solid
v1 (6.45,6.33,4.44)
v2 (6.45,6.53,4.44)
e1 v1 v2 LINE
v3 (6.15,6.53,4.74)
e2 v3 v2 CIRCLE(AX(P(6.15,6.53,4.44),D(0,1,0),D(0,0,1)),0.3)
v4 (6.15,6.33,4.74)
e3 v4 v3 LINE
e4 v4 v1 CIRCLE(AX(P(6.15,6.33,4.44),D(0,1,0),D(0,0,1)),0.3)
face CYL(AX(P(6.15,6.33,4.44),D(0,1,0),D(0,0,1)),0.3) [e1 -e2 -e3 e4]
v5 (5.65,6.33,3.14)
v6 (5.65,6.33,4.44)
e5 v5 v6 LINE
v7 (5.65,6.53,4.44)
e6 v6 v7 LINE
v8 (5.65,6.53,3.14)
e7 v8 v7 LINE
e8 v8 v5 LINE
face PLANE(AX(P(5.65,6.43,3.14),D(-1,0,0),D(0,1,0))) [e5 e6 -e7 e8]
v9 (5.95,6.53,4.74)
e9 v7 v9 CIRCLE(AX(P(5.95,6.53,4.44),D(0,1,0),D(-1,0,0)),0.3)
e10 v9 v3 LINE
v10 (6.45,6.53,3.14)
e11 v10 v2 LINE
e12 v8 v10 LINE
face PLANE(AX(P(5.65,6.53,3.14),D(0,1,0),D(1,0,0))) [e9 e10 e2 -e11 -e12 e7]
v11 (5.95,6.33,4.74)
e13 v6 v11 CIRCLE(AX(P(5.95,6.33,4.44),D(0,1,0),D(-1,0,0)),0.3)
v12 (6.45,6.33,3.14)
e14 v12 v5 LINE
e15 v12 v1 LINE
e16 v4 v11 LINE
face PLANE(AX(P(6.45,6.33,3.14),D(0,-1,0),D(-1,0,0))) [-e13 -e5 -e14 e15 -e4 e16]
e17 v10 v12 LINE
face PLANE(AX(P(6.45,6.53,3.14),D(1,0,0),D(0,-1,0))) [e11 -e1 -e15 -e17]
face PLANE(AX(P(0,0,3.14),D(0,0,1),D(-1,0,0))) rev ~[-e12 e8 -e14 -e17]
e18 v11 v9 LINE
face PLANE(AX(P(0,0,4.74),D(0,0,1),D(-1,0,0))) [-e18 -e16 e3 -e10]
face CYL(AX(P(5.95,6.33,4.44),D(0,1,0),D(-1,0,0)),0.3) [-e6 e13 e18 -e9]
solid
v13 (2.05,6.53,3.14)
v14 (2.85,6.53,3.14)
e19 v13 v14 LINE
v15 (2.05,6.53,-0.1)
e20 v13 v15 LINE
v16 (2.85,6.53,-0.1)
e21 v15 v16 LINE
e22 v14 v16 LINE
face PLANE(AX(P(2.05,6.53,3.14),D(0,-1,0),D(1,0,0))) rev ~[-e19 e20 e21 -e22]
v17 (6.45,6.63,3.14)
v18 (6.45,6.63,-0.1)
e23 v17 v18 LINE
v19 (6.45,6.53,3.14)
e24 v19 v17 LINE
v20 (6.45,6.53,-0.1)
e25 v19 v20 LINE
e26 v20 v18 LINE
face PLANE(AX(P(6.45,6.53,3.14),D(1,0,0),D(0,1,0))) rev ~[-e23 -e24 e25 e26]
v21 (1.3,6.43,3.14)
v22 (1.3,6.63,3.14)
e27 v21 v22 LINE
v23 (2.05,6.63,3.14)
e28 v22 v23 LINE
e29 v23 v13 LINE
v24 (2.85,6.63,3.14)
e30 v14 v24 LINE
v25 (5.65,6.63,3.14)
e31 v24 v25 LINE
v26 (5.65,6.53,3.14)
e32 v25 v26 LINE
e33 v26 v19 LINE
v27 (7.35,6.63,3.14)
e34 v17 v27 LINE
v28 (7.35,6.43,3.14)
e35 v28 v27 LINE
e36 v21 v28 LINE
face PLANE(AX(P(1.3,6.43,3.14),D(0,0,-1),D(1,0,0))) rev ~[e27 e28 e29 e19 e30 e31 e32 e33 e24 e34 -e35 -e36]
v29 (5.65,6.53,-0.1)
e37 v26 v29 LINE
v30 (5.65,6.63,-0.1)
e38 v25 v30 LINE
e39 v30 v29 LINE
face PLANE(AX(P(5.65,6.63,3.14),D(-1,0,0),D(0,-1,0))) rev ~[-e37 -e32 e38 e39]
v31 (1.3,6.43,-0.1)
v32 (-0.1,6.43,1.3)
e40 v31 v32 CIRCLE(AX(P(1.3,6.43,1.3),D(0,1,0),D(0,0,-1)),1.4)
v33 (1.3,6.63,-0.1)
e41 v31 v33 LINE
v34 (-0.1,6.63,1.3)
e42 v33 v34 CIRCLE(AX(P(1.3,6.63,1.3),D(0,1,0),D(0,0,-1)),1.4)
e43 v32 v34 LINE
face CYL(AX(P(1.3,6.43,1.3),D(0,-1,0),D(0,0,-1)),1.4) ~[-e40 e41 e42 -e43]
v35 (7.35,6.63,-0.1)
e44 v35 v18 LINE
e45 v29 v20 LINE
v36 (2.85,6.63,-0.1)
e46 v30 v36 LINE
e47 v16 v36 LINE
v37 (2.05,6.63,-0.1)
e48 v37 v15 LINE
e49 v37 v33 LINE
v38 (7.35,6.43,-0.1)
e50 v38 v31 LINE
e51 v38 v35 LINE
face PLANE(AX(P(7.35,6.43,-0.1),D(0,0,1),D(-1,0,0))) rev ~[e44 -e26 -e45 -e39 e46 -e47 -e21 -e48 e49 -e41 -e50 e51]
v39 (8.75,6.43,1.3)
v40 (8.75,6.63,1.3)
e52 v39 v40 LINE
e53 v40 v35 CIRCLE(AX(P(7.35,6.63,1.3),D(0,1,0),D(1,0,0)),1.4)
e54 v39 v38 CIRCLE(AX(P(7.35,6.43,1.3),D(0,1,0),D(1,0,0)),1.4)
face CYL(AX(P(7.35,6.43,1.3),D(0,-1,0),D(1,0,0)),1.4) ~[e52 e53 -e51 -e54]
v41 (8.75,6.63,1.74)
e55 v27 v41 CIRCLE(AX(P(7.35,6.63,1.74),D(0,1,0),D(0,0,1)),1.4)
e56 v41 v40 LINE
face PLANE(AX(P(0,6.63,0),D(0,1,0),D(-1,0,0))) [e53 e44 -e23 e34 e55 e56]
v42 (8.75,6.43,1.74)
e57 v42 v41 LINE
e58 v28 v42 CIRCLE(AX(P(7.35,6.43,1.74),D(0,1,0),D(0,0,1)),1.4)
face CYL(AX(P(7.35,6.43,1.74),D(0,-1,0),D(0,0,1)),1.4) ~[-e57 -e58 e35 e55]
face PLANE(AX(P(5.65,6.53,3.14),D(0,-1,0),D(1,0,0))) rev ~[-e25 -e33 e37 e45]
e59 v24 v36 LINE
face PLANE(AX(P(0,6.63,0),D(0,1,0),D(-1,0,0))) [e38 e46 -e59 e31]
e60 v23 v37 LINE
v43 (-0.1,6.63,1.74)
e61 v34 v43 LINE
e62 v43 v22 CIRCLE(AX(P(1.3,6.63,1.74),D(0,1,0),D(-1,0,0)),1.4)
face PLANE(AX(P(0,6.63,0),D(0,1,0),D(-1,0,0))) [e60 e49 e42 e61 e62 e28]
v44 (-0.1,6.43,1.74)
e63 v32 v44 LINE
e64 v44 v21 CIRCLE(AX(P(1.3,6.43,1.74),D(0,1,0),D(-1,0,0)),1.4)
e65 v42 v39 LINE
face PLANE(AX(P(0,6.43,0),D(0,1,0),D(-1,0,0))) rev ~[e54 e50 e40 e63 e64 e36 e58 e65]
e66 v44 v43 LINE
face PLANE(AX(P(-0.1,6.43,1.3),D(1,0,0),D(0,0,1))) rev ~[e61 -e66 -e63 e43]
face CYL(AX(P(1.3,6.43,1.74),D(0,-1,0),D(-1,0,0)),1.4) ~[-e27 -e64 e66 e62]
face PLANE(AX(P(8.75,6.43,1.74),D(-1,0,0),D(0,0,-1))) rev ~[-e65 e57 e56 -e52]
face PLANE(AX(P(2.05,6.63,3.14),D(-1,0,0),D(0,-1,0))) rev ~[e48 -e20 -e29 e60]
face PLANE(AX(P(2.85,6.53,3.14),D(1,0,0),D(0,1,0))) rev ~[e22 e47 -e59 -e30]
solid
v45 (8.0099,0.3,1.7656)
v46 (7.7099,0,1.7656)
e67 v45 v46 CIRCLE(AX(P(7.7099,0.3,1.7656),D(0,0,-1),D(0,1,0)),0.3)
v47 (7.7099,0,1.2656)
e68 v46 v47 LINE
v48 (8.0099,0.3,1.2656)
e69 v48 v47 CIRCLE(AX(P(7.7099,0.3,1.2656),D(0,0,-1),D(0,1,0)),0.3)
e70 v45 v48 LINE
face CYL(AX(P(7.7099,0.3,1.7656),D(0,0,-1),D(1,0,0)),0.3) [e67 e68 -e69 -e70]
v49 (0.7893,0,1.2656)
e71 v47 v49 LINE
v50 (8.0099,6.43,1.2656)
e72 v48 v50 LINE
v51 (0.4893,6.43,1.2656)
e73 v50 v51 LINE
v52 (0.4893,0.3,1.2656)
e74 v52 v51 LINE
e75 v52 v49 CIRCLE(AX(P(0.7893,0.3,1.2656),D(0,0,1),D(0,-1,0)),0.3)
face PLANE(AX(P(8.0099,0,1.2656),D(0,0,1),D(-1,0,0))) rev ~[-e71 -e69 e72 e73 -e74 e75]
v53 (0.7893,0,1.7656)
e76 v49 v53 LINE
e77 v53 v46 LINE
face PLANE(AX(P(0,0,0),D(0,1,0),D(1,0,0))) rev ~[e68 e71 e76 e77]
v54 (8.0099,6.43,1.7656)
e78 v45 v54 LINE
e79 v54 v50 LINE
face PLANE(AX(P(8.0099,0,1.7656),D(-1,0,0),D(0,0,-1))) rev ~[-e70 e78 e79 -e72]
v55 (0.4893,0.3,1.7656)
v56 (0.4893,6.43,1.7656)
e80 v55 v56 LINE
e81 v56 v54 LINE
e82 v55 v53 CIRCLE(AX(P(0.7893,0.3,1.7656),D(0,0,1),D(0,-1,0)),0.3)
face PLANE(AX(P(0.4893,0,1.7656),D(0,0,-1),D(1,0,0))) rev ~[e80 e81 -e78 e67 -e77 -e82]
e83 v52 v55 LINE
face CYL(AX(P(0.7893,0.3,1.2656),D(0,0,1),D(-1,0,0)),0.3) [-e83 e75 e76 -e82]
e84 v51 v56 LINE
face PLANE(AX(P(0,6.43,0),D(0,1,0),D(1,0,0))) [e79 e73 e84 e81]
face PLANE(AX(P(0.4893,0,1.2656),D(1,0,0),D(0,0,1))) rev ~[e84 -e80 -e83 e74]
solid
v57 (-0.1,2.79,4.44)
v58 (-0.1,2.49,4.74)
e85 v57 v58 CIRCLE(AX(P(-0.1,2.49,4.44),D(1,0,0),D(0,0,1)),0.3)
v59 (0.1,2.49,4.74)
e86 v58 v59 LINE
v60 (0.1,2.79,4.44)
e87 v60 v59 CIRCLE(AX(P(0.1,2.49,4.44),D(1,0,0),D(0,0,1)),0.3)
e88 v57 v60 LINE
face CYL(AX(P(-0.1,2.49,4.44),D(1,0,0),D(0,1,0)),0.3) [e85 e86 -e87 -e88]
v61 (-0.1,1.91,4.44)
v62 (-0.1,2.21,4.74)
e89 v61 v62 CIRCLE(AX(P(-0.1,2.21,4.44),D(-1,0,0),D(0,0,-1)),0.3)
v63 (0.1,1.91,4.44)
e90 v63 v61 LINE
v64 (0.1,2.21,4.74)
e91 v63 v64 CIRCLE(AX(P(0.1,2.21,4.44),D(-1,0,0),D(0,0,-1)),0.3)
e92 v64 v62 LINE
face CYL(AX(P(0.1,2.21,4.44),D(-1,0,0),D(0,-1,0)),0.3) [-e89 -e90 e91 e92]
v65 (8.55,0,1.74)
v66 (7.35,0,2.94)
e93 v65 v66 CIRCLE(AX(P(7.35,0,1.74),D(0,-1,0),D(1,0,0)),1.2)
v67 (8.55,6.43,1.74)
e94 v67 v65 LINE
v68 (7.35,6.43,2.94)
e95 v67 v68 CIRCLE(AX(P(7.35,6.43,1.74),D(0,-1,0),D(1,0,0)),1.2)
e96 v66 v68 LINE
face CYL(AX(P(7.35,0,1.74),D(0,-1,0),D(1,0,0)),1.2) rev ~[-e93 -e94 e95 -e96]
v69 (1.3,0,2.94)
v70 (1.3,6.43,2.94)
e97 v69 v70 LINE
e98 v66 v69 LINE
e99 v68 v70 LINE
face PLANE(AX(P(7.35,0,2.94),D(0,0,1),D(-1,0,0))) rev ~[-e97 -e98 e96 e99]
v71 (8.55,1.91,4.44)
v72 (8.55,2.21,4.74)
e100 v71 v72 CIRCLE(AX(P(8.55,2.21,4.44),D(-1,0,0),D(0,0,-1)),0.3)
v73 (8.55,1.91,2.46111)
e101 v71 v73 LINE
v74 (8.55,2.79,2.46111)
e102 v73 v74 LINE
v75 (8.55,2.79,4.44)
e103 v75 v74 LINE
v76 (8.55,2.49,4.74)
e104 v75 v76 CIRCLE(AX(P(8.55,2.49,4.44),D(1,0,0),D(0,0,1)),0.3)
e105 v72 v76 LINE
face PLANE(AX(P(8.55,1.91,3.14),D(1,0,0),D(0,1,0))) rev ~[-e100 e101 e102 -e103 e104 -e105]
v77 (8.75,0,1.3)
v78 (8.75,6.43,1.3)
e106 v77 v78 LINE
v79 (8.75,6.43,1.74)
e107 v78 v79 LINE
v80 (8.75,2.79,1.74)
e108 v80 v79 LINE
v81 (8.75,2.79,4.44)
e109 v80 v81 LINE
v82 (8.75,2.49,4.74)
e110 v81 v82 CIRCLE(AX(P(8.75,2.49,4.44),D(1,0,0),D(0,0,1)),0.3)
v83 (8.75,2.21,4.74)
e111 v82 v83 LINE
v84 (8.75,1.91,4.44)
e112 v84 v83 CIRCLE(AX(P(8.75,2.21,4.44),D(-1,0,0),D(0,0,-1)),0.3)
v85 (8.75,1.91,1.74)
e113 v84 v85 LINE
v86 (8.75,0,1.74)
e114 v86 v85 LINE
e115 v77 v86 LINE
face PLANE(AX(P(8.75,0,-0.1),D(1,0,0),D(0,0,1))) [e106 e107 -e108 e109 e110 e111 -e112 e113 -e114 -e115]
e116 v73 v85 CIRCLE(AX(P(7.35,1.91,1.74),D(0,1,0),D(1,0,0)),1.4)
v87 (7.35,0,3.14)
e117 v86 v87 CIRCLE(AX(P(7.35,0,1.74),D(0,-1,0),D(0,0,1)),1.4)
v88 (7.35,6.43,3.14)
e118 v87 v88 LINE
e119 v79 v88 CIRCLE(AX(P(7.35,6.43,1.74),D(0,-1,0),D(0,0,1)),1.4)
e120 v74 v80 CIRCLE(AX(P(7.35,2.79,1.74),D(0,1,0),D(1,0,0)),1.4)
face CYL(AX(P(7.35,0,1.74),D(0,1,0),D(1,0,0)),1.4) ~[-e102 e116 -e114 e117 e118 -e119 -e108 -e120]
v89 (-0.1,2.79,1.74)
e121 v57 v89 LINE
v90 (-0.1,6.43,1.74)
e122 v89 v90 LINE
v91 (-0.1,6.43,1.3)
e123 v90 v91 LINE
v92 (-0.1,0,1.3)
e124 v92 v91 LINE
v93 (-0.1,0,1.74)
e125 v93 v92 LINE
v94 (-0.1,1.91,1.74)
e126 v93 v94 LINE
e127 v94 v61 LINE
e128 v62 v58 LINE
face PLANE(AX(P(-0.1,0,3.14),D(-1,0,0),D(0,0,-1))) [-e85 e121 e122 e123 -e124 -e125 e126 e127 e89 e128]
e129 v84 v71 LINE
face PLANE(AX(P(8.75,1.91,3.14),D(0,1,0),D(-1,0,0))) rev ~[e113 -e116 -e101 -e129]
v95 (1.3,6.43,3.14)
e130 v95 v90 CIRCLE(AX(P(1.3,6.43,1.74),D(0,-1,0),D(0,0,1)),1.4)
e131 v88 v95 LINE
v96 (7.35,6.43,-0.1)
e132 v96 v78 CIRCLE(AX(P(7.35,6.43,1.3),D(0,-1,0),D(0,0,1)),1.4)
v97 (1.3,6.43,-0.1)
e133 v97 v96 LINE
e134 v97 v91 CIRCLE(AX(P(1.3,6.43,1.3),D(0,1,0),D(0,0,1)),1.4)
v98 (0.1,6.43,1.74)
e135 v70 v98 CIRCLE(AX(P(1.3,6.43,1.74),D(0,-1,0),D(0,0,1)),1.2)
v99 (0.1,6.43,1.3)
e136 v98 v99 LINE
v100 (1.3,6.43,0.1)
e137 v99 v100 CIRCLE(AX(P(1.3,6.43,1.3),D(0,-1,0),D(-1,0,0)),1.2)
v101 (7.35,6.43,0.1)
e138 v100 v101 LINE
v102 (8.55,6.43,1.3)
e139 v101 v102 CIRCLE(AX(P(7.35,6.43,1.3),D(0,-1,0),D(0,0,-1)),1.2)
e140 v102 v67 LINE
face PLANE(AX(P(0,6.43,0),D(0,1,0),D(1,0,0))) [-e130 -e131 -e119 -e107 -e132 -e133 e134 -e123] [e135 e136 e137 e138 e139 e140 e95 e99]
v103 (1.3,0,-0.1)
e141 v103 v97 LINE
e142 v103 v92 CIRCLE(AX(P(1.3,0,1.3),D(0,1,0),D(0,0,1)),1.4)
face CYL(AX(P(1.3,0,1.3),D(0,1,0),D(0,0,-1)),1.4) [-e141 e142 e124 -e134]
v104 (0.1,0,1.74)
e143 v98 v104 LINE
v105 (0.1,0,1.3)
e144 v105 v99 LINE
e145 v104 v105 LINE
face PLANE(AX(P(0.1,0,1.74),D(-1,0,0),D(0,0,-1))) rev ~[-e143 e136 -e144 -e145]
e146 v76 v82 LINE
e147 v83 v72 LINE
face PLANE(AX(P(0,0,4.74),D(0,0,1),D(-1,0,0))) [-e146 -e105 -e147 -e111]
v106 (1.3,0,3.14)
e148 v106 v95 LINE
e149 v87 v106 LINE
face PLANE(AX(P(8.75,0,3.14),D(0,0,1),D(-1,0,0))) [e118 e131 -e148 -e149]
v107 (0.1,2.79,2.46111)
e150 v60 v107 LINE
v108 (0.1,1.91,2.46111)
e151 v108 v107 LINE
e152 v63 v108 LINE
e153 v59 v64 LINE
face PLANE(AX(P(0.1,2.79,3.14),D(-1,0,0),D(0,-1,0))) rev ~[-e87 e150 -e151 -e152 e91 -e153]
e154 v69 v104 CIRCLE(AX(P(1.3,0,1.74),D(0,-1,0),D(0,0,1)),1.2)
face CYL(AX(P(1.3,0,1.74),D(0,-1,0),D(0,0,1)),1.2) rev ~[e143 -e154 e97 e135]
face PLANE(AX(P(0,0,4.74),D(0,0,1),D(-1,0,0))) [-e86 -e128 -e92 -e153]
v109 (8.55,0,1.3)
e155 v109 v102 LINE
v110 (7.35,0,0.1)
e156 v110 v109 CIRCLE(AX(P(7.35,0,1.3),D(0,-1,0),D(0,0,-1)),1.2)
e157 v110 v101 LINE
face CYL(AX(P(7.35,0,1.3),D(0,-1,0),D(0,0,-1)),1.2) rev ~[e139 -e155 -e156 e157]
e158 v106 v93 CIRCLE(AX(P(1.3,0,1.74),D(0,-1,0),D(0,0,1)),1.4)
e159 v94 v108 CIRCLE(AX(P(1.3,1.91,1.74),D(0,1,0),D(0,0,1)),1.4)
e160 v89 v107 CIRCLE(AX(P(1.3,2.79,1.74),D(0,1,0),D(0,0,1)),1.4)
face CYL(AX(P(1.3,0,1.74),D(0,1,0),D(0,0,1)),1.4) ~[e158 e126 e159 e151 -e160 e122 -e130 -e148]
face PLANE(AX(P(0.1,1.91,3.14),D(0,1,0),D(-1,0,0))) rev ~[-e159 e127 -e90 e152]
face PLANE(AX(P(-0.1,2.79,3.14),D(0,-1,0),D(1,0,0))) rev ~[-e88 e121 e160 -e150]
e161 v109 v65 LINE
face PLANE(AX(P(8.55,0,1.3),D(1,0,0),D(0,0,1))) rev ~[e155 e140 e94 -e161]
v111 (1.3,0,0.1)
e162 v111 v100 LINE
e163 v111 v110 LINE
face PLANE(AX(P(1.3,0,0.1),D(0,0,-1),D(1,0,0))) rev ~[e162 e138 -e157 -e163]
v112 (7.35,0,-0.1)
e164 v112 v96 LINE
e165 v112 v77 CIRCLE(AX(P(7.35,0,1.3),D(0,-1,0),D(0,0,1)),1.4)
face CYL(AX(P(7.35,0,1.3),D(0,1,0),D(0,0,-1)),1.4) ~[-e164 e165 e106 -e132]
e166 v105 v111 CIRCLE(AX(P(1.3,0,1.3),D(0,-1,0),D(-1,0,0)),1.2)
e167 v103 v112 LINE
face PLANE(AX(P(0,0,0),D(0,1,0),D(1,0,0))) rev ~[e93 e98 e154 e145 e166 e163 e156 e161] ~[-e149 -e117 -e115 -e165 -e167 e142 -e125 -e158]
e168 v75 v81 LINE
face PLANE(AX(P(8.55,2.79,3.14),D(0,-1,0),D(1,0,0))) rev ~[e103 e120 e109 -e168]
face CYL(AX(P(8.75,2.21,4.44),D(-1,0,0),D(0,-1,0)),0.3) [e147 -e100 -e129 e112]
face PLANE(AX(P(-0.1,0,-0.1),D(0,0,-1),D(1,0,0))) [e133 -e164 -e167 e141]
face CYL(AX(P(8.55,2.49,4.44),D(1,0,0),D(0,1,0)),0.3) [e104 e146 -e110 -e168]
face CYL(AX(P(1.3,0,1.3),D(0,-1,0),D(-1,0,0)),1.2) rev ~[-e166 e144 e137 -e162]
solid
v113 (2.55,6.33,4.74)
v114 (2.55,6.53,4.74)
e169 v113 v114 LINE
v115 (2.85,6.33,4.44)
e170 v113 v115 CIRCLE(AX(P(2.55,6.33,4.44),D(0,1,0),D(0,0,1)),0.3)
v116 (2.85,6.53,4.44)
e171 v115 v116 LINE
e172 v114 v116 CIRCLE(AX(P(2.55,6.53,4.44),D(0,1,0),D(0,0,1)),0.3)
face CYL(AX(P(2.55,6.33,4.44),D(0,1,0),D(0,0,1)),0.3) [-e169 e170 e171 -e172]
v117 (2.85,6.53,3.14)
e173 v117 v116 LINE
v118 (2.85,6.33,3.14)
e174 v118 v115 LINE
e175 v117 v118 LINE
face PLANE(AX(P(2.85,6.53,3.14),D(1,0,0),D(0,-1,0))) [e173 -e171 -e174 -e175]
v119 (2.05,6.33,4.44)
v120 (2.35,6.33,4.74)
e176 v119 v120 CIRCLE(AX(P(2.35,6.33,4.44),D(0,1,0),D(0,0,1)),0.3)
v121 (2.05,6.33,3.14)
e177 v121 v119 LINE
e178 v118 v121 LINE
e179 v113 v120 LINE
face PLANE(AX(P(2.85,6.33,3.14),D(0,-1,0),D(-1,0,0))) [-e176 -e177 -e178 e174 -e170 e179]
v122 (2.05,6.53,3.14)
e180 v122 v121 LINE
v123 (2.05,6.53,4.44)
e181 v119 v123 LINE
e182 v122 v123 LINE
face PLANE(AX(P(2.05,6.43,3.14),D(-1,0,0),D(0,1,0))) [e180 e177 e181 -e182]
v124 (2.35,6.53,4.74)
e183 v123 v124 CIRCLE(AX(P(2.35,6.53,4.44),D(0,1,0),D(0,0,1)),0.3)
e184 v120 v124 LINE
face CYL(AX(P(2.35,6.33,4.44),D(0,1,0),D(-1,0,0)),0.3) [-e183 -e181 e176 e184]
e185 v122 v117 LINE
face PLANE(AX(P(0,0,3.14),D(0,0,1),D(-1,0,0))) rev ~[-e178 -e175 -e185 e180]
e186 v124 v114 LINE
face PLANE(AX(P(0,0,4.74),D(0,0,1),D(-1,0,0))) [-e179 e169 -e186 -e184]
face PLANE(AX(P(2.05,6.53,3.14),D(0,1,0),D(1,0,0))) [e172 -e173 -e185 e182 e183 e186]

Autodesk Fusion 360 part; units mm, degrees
sketch "Sketch1" plane through (0, 0, 0) normal (0, 1, 0) x (1, 0, 0)
  line L0 (0.1, -0.1) -> (8.55, -0.1) construction
  line L1 (8.55, -0.1) -> (8.55, -2.94) construction
  line L2 (8.55, -2.94) -> (0.1, -2.94) construction
  line L3 (0.1, -2.94) -> (0.1, -0.1) construction
  line L4 (-0.1, 0.1) -> (8.75, 0.1)
  line L5 (8.75, 0.1) -> (8.75, -3.14)
  line L6 (8.75, -3.14) -> (-0.1, -3.14)
  line L7 (-0.1, -3.14) -> (-0.1, 0.1)
  line L8 (0, 0) -> (8.65, 0) construction
  line L9 (8.65, 0) -> (8.65, -3.04) construction
  line L10 (8.65, -3.04) -> (0, -3.04) construction
  line L11 (0, -3.04) -> (0, 0) construction
  dimension "d4" = -0.2
  dimension "d5" = -0.1
extrude "Extrude1" add sketch "Sketch1" along normal blind 6.43 makes body 1
fillet "Fillet1" radius 1.4 4 edges at (8.75, 3.215, 3.14) (8.75, 3.215, -0.1) (-0.1, 3.215, 3.14) (-0.1, 3.215, -0.1) on bodies 1
sketch "Sketch2" plane through (0, 0, 0) normal (0, -1, 0) x (1, 0, 0)
  arc A0 (-0.1, 1.3) -> (1.3, -0.1) centre (1.3, 1.3) ccw
  line L0 (1.3, -0.1) -> (7.35, -0.1)
  arc A1 (7.35, -0.1) -> (8.75, 1.3) centre (7.35, 1.3) ccw
  line L1 (8.75, 1.3) -> (8.75, 1.74)
  arc A2 (8.75, 1.74) -> (7.35, 3.14) centre (7.35, 1.74) ccw
  line L2 (7.35, 3.14) -> (1.3, 3.14)
  arc A3 (1.3, 3.14) -> (-0.1, 1.74) centre (1.3, 1.74) ccw
  line L3 (-0.1, 1.74) -> (-0.1, 1.3)
  line L4 (0.1, 1.74) -> (0.1, 1.3)
  arc A4 (0.1, 1.3) -> (1.3, 0.1) centre (1.3, 1.3) ccw
  line L5 (1.3, 0.1) -> (7.35, 0.1)
  arc A5 (7.35, 0.1) -> (8.55, 1.3) centre (7.35, 1.3) ccw
  line L6 (8.55, 1.3) -> (8.55, 1.74)
  arc A6 (8.55, 1.74) -> (7.35, 2.94) centre (7.35, 1.74) ccw
  line L7 (7.35, 2.94) -> (1.3, 2.94)
  arc A7 (1.3, 2.94) -> (0.1, 1.74) centre (1.3, 1.74) ccw
  dimension "d10" = -0.2
extrude "Extrude2" cut sketch "Sketch2" against normal blind 6.43 contours L4 A4 L5 A5 L6 A6 L7 A7 bodies 1
sketch "Sketch3" plane through (0, 6.43, 0) normal (0, 1, 0) x (-1, 0, 0)
  line L0 (-0.1, 1.74) -> (-0.1, 1.3)
  arc A0 (-1.3, 0.1) -> (-0.1, 1.3) centre (-1.3, 1.3) ccw
  line L1 (-1.3, 0.1) -> (-7.35, 0.1)
  arc A1 (-8.55, 1.3) -> (-7.35, 0.1) centre (-7.35, 1.3) ccw
  line L2 (-8.55, 1.3) -> (-8.55, 1.74)
  arc A2 (-7.35, 2.94) -> (-8.55, 1.74) centre (-7.35, 1.74) ccw
  line L3 (-7.35, 2.94) -> (-1.3, 2.94)
  arc A3 (-0.1, 1.74) -> (-1.3, 2.94) centre (-1.3, 1.74) ccw
  arc A4 (-1.3, -0.1) -> (0.1, 1.3) centre (-1.3, 1.3) ccw
  line L4 (0.1, 1.3) -> (0.1, 1.74)
  arc A5 (0.1, 1.74) -> (-1.3, 3.14) centre (-1.3, 1.74) ccw
  line L5 (-1.3, 3.14) -> (-7.35, 3.14)
  arc A6 (-7.35, 3.14) -> (-8.75, 1.74) centre (-7.35, 1.74) ccw
  line L6 (-8.75, 1.74) -> (-8.75, 1.3)
  arc A7 (-8.75, 1.3) -> (-7.35, -0.1) centre (-7.35, 1.3) ccw
  line L7 (-7.35, -0.1) -> (-1.3, -0.1)
  line L8 (-7.35, 3.14) -> (-1.3, 3.14)
  line L9 (0.1, 1.74) -> (0.1, 1.3)
  line L10 (-1.3, -0.1) -> (-7.35, -0.1)
  line L11 (-8.75, 1.3) -> (-8.75, 1.74)
  spline S0 degree 5 poles (-7.35, -0.1) (-7.4476, -0.1) (-7.6354, -0.0851) (-7.8944, -0.0183) (-8.1972, 0.1488) (-8.5012, 0.4528) (-8.6683, 0.7556) (-8.7351, 1.0146) (-8.75, 1.2024) (-8.75, 1.3) knots 0 0 0 0 0 0 0.2 0.4 0.6 0.8 1 1 1 1 1 1
  spline S1 degree 5 poles (-8.75, 1.74) (-8.75, 1.8376) (-8.7351, 2.0254) (-8.6683, 2.2844) (-8.5012, 2.5872) (-8.1972, 2.8912) (-7.8944, 3.0583) (-7.6354, 3.1251) (-7.4476, 3.14) (-7.35, 3.14) knots 0 0 0 0 0 0 0.2 0.4 0.6 0.8 1 1 1 1 1 1
  spline S2 degree 5 poles (-1.3, -0.1) (-1.2024, -0.1) (-1.0146, -0.0851) (-0.7556, -0.0183) (-0.4528, 0.1488) (-0.1488, 0.4528) (0.0183, 0.7556) (0.0851, 1.0146) (0.1, 1.2024) (0.1, 1.3) knots 0 0 0 0 0 0 0.2 0.4 0.6 0.8 1 1 1 1 1 1
  spline S3 degree 5 poles (0.1, 1.74) (0.1, 1.8376) (0.0851, 2.0254) (0.0183, 2.2844) (-0.1488, 2.5872) (-0.4528, 2.8912) (-0.7556, 3.0583) (-1.0146, 3.1251) (-1.2024, 3.14) (-1.3, 3.14) knots 0 0 0 0 0 0 0.2 0.4 0.6 0.8 1 1 1 1 1 1
extrude "Extrude3" add sketch "Sketch3" along normal blind 0.2 separate body contours L0 A0 L1 A1 L2 A2 L3 A3 | A4 L4 A5 L5 A6 L6 A7 L7 L8 L9 L10 L11 S0 S1 S2 S3 makes body 2
sketch "Sketch4" plane through (0, 0, 0) normal (0, 1, 0) x (1, 0, 0)
  line L0 (8.6991, -3.1025) -> (0, 0) construction
  line L1 (-0.1103, -3.1118) -> (8.7397, 0.1282) construction
  line L2 (4.2496, -1.5156) -> (4.3035, 0.7511) construction
  line L3 (8.0099, -1.2656) -> (0.4893, -1.2656)
  line L4 (0.4893, -1.2656) -> (0.4893, -1.7656)
  line L5 (0.4893, -1.7656) -> (8.0099, -1.7656)
  line L6 (8.0099, -1.7656) -> (8.0099, -1.2656)
  line L7 (8.0099, -1.2656) -> (0.4893, -1.7656) construction
  line L8 (0.4893, -1.2656) -> (8.0099, -1.7656) construction
  point P0 (4.2496, -1.5156)
  dimension "d15" = 0.5
extrude "Extrude4" add sketch "Sketch4" along normal blind 6.43 separate body makes body 3
fillet "Fillet2" radius 0.3 2 edges at (8.0099, 0, 1.5156) (0.4893, 0, 1.5156) on bodies 3
sketch "Sketch5" plane through (0, 0, 3.14) normal (0, 0, 1) x (-1, 0, 0)
  line L0 (-1.3, -6.43) -> (-1.3, 0)
  line L1 (-1.3, 0) -> (-7.35, 0)
  line L2 (-7.35, 0) -> (-7.35, -6.43)
  line L3 (-7.35, -6.43) -> (-1.3, -6.43)
  line L4 (-4.25, 0.05) -> (-4.25, -8) construction
  line L5 (0, 0) -> (-8.7598, -6.43) construction
  line L6 (-4.25, -6.43) -> (-2.45, -6.43) construction
  line L7 (-4.25, -6.43) -> (-6.05, -6.43) construction
  line L8 (-5.65, -6.53) -> (-6.45, -6.53)
  line L9 (-6.45, -6.53) -> (-6.45, -6.33)
  line L10 (-6.45, -6.33) -> (-5.65, -6.33)
  line L11 (-5.65, -6.33) -> (-5.65, -6.53)
  line L12 (-5.65, -6.53) -> (-6.45, -6.33) construction
  line L13 (-6.45, -6.53) -> (-5.65, -6.33) construction
  line L14 (-2.05, -6.53) -> (-2.85, -6.53)
  line L15 (-2.85, -6.53) -> (-2.85, -6.33)
  line L16 (-2.85, -6.33) -> (-2.05, -6.33)
  line L17 (-2.05, -6.33) -> (-2.05, -6.53)
  line L18 (-2.05, -6.53) -> (-2.85, -6.33) construction
  line L19 (-2.85, -6.53) -> (-2.05, -6.33) construction
  line L20 (-6.45, -6.53) -> (-6.45, -6.63)
  line L21 (-6.45, -6.63) -> (-5.65, -6.63)
  line L22 (-5.65, -6.63) -> (-5.65, -6.53)
  line L23 (-2.85, -6.53) -> (-2.85, -6.63)
  line L24 (-2.85, -6.63) -> (-2.05, -6.63)
  line L25 (-2.05, -6.63) -> (-2.05, -6.53)
  point P0 (-6.05, -6.43)
  point P1 (-2.45, -6.43)
  dimension "d20" = 1.8
  dimension "d21" = 1.8
  dimension "d22" = 0.8
  dimension "d23" = 0.2
  dimension "d24" = 0.8
  dimension "d25" = 0.2
extrude "Extrude5" add sketch "Sketch5" along normal blind 1.6 separate body contours L3 L14 L15 L17 | L3 L15 L16 L17 | L3 L8 L9 L11 | L3 L9 L10 L11 makes body 4 at (6.1833, 6.33, 3.6733) makes body 5 at (2.5833, 6.33, 3.6733)
fillet "Fillet3" radius 0.3 4 edges at (5.65, 6.43, 4.74) (6.45, 6.43, 4.74) (2.85, 6.43, 4.74) (2.05, 6.43, 4.74) on bodies 4 5
extrude "Extrude6" cut sketch "Sketch5" against normal blind 3.3 contours L14 L23 L24 L25 | L8 L20 L21 L22 bodies 2
sketch "Sketch6" plane through (0, 0, 3.14) normal (0, 0, 1) x (-1, 0, 0)
  line L0 (-1.3, -6.43) -> (-1.3, 0)
  line L1 (-1.3, 0) -> (-7.35, 0)
  line L2 (-7.35, 0) -> (-7.35, -6.43)
  line L3 (-7.35, -6.43) -> (-1.3, -6.43)
  line L4 (1.0089, -6.43) -> (-10, -6.43) construction
  line L5 (0.1, -6.7) -> (0.1, 0.5) construction
  line L6 (-8.75, -6.7) -> (-8.75, 0.5) construction
  line L7 (0.1, -6.43) -> (0.1, -2.35) construction
  line L8 (0.1, -2.35) -> (-8.75, -2.35) construction
  line L9 (-8.55, -2.79) -> (-8.75, -2.79)
  line L10 (-8.75, -2.79) -> (-8.75, -1.91)
  line L11 (-8.75, -1.91) -> (-8.55, -1.91)
  line L12 (-8.55, -1.91) -> (-8.55, -2.79)
  line L13 (-8.75, -2.79) -> (-8.55, -1.91) construction
  line L14 (-8.55, -2.79) -> (-8.75, -1.91) construction
  line L15 (-0.1, -2.79) -> (0.1, -1.91) construction
  line L16 (0, -2.35) -> (0.1, -2.35) construction
  line L17 (-0.1, -2.79) -> (-0.1, -1.91)
  line L18 (-0.1, -1.91) -> (0.1, -1.91)
  line L19 (0.1, -1.91) -> (0.1, -2.79)
  line L20 (0.1, -2.79) -> (-0.1, -2.79)
  line L21 (0.1, -2.79) -> (-0.1, -1.91) construction
  line L22 (-8.65, -2.35) -> (-8.75, -2.35) construction
  dimension "d32" = 4.08
  dimension "d33" = 0.2
  dimension "d34" = 0.88
  dimension "d35" = 0.2
  dimension "d36" = 0.88
extrude "Extrude7" add sketch "Sketch6" along normal blind 1.6 separate body contours L9 L10 L11 L12 | L17 L18 L19 L20 makes body 6 at (8.75, 2.4967, 3.6733) makes body 7 at (0.1, 2.4967, 3.6733)
fillet "Fillet4" radius 0.3 4 edges at (8.65, 2.79, 4.74) (8.65, 1.91, 4.74) (0, 1.91, 4.74) (0, 2.79, 4.74) on bodies 6 7
extrude "Extrude8" add 2 faces at (0.0333, 2.2033, 3.14) (8.6833, 2.2033, 3.14) along direction (0, 0, -1) blind 1.4 on bodies 6 7 bodies 1 2 3 4 5 7 6
